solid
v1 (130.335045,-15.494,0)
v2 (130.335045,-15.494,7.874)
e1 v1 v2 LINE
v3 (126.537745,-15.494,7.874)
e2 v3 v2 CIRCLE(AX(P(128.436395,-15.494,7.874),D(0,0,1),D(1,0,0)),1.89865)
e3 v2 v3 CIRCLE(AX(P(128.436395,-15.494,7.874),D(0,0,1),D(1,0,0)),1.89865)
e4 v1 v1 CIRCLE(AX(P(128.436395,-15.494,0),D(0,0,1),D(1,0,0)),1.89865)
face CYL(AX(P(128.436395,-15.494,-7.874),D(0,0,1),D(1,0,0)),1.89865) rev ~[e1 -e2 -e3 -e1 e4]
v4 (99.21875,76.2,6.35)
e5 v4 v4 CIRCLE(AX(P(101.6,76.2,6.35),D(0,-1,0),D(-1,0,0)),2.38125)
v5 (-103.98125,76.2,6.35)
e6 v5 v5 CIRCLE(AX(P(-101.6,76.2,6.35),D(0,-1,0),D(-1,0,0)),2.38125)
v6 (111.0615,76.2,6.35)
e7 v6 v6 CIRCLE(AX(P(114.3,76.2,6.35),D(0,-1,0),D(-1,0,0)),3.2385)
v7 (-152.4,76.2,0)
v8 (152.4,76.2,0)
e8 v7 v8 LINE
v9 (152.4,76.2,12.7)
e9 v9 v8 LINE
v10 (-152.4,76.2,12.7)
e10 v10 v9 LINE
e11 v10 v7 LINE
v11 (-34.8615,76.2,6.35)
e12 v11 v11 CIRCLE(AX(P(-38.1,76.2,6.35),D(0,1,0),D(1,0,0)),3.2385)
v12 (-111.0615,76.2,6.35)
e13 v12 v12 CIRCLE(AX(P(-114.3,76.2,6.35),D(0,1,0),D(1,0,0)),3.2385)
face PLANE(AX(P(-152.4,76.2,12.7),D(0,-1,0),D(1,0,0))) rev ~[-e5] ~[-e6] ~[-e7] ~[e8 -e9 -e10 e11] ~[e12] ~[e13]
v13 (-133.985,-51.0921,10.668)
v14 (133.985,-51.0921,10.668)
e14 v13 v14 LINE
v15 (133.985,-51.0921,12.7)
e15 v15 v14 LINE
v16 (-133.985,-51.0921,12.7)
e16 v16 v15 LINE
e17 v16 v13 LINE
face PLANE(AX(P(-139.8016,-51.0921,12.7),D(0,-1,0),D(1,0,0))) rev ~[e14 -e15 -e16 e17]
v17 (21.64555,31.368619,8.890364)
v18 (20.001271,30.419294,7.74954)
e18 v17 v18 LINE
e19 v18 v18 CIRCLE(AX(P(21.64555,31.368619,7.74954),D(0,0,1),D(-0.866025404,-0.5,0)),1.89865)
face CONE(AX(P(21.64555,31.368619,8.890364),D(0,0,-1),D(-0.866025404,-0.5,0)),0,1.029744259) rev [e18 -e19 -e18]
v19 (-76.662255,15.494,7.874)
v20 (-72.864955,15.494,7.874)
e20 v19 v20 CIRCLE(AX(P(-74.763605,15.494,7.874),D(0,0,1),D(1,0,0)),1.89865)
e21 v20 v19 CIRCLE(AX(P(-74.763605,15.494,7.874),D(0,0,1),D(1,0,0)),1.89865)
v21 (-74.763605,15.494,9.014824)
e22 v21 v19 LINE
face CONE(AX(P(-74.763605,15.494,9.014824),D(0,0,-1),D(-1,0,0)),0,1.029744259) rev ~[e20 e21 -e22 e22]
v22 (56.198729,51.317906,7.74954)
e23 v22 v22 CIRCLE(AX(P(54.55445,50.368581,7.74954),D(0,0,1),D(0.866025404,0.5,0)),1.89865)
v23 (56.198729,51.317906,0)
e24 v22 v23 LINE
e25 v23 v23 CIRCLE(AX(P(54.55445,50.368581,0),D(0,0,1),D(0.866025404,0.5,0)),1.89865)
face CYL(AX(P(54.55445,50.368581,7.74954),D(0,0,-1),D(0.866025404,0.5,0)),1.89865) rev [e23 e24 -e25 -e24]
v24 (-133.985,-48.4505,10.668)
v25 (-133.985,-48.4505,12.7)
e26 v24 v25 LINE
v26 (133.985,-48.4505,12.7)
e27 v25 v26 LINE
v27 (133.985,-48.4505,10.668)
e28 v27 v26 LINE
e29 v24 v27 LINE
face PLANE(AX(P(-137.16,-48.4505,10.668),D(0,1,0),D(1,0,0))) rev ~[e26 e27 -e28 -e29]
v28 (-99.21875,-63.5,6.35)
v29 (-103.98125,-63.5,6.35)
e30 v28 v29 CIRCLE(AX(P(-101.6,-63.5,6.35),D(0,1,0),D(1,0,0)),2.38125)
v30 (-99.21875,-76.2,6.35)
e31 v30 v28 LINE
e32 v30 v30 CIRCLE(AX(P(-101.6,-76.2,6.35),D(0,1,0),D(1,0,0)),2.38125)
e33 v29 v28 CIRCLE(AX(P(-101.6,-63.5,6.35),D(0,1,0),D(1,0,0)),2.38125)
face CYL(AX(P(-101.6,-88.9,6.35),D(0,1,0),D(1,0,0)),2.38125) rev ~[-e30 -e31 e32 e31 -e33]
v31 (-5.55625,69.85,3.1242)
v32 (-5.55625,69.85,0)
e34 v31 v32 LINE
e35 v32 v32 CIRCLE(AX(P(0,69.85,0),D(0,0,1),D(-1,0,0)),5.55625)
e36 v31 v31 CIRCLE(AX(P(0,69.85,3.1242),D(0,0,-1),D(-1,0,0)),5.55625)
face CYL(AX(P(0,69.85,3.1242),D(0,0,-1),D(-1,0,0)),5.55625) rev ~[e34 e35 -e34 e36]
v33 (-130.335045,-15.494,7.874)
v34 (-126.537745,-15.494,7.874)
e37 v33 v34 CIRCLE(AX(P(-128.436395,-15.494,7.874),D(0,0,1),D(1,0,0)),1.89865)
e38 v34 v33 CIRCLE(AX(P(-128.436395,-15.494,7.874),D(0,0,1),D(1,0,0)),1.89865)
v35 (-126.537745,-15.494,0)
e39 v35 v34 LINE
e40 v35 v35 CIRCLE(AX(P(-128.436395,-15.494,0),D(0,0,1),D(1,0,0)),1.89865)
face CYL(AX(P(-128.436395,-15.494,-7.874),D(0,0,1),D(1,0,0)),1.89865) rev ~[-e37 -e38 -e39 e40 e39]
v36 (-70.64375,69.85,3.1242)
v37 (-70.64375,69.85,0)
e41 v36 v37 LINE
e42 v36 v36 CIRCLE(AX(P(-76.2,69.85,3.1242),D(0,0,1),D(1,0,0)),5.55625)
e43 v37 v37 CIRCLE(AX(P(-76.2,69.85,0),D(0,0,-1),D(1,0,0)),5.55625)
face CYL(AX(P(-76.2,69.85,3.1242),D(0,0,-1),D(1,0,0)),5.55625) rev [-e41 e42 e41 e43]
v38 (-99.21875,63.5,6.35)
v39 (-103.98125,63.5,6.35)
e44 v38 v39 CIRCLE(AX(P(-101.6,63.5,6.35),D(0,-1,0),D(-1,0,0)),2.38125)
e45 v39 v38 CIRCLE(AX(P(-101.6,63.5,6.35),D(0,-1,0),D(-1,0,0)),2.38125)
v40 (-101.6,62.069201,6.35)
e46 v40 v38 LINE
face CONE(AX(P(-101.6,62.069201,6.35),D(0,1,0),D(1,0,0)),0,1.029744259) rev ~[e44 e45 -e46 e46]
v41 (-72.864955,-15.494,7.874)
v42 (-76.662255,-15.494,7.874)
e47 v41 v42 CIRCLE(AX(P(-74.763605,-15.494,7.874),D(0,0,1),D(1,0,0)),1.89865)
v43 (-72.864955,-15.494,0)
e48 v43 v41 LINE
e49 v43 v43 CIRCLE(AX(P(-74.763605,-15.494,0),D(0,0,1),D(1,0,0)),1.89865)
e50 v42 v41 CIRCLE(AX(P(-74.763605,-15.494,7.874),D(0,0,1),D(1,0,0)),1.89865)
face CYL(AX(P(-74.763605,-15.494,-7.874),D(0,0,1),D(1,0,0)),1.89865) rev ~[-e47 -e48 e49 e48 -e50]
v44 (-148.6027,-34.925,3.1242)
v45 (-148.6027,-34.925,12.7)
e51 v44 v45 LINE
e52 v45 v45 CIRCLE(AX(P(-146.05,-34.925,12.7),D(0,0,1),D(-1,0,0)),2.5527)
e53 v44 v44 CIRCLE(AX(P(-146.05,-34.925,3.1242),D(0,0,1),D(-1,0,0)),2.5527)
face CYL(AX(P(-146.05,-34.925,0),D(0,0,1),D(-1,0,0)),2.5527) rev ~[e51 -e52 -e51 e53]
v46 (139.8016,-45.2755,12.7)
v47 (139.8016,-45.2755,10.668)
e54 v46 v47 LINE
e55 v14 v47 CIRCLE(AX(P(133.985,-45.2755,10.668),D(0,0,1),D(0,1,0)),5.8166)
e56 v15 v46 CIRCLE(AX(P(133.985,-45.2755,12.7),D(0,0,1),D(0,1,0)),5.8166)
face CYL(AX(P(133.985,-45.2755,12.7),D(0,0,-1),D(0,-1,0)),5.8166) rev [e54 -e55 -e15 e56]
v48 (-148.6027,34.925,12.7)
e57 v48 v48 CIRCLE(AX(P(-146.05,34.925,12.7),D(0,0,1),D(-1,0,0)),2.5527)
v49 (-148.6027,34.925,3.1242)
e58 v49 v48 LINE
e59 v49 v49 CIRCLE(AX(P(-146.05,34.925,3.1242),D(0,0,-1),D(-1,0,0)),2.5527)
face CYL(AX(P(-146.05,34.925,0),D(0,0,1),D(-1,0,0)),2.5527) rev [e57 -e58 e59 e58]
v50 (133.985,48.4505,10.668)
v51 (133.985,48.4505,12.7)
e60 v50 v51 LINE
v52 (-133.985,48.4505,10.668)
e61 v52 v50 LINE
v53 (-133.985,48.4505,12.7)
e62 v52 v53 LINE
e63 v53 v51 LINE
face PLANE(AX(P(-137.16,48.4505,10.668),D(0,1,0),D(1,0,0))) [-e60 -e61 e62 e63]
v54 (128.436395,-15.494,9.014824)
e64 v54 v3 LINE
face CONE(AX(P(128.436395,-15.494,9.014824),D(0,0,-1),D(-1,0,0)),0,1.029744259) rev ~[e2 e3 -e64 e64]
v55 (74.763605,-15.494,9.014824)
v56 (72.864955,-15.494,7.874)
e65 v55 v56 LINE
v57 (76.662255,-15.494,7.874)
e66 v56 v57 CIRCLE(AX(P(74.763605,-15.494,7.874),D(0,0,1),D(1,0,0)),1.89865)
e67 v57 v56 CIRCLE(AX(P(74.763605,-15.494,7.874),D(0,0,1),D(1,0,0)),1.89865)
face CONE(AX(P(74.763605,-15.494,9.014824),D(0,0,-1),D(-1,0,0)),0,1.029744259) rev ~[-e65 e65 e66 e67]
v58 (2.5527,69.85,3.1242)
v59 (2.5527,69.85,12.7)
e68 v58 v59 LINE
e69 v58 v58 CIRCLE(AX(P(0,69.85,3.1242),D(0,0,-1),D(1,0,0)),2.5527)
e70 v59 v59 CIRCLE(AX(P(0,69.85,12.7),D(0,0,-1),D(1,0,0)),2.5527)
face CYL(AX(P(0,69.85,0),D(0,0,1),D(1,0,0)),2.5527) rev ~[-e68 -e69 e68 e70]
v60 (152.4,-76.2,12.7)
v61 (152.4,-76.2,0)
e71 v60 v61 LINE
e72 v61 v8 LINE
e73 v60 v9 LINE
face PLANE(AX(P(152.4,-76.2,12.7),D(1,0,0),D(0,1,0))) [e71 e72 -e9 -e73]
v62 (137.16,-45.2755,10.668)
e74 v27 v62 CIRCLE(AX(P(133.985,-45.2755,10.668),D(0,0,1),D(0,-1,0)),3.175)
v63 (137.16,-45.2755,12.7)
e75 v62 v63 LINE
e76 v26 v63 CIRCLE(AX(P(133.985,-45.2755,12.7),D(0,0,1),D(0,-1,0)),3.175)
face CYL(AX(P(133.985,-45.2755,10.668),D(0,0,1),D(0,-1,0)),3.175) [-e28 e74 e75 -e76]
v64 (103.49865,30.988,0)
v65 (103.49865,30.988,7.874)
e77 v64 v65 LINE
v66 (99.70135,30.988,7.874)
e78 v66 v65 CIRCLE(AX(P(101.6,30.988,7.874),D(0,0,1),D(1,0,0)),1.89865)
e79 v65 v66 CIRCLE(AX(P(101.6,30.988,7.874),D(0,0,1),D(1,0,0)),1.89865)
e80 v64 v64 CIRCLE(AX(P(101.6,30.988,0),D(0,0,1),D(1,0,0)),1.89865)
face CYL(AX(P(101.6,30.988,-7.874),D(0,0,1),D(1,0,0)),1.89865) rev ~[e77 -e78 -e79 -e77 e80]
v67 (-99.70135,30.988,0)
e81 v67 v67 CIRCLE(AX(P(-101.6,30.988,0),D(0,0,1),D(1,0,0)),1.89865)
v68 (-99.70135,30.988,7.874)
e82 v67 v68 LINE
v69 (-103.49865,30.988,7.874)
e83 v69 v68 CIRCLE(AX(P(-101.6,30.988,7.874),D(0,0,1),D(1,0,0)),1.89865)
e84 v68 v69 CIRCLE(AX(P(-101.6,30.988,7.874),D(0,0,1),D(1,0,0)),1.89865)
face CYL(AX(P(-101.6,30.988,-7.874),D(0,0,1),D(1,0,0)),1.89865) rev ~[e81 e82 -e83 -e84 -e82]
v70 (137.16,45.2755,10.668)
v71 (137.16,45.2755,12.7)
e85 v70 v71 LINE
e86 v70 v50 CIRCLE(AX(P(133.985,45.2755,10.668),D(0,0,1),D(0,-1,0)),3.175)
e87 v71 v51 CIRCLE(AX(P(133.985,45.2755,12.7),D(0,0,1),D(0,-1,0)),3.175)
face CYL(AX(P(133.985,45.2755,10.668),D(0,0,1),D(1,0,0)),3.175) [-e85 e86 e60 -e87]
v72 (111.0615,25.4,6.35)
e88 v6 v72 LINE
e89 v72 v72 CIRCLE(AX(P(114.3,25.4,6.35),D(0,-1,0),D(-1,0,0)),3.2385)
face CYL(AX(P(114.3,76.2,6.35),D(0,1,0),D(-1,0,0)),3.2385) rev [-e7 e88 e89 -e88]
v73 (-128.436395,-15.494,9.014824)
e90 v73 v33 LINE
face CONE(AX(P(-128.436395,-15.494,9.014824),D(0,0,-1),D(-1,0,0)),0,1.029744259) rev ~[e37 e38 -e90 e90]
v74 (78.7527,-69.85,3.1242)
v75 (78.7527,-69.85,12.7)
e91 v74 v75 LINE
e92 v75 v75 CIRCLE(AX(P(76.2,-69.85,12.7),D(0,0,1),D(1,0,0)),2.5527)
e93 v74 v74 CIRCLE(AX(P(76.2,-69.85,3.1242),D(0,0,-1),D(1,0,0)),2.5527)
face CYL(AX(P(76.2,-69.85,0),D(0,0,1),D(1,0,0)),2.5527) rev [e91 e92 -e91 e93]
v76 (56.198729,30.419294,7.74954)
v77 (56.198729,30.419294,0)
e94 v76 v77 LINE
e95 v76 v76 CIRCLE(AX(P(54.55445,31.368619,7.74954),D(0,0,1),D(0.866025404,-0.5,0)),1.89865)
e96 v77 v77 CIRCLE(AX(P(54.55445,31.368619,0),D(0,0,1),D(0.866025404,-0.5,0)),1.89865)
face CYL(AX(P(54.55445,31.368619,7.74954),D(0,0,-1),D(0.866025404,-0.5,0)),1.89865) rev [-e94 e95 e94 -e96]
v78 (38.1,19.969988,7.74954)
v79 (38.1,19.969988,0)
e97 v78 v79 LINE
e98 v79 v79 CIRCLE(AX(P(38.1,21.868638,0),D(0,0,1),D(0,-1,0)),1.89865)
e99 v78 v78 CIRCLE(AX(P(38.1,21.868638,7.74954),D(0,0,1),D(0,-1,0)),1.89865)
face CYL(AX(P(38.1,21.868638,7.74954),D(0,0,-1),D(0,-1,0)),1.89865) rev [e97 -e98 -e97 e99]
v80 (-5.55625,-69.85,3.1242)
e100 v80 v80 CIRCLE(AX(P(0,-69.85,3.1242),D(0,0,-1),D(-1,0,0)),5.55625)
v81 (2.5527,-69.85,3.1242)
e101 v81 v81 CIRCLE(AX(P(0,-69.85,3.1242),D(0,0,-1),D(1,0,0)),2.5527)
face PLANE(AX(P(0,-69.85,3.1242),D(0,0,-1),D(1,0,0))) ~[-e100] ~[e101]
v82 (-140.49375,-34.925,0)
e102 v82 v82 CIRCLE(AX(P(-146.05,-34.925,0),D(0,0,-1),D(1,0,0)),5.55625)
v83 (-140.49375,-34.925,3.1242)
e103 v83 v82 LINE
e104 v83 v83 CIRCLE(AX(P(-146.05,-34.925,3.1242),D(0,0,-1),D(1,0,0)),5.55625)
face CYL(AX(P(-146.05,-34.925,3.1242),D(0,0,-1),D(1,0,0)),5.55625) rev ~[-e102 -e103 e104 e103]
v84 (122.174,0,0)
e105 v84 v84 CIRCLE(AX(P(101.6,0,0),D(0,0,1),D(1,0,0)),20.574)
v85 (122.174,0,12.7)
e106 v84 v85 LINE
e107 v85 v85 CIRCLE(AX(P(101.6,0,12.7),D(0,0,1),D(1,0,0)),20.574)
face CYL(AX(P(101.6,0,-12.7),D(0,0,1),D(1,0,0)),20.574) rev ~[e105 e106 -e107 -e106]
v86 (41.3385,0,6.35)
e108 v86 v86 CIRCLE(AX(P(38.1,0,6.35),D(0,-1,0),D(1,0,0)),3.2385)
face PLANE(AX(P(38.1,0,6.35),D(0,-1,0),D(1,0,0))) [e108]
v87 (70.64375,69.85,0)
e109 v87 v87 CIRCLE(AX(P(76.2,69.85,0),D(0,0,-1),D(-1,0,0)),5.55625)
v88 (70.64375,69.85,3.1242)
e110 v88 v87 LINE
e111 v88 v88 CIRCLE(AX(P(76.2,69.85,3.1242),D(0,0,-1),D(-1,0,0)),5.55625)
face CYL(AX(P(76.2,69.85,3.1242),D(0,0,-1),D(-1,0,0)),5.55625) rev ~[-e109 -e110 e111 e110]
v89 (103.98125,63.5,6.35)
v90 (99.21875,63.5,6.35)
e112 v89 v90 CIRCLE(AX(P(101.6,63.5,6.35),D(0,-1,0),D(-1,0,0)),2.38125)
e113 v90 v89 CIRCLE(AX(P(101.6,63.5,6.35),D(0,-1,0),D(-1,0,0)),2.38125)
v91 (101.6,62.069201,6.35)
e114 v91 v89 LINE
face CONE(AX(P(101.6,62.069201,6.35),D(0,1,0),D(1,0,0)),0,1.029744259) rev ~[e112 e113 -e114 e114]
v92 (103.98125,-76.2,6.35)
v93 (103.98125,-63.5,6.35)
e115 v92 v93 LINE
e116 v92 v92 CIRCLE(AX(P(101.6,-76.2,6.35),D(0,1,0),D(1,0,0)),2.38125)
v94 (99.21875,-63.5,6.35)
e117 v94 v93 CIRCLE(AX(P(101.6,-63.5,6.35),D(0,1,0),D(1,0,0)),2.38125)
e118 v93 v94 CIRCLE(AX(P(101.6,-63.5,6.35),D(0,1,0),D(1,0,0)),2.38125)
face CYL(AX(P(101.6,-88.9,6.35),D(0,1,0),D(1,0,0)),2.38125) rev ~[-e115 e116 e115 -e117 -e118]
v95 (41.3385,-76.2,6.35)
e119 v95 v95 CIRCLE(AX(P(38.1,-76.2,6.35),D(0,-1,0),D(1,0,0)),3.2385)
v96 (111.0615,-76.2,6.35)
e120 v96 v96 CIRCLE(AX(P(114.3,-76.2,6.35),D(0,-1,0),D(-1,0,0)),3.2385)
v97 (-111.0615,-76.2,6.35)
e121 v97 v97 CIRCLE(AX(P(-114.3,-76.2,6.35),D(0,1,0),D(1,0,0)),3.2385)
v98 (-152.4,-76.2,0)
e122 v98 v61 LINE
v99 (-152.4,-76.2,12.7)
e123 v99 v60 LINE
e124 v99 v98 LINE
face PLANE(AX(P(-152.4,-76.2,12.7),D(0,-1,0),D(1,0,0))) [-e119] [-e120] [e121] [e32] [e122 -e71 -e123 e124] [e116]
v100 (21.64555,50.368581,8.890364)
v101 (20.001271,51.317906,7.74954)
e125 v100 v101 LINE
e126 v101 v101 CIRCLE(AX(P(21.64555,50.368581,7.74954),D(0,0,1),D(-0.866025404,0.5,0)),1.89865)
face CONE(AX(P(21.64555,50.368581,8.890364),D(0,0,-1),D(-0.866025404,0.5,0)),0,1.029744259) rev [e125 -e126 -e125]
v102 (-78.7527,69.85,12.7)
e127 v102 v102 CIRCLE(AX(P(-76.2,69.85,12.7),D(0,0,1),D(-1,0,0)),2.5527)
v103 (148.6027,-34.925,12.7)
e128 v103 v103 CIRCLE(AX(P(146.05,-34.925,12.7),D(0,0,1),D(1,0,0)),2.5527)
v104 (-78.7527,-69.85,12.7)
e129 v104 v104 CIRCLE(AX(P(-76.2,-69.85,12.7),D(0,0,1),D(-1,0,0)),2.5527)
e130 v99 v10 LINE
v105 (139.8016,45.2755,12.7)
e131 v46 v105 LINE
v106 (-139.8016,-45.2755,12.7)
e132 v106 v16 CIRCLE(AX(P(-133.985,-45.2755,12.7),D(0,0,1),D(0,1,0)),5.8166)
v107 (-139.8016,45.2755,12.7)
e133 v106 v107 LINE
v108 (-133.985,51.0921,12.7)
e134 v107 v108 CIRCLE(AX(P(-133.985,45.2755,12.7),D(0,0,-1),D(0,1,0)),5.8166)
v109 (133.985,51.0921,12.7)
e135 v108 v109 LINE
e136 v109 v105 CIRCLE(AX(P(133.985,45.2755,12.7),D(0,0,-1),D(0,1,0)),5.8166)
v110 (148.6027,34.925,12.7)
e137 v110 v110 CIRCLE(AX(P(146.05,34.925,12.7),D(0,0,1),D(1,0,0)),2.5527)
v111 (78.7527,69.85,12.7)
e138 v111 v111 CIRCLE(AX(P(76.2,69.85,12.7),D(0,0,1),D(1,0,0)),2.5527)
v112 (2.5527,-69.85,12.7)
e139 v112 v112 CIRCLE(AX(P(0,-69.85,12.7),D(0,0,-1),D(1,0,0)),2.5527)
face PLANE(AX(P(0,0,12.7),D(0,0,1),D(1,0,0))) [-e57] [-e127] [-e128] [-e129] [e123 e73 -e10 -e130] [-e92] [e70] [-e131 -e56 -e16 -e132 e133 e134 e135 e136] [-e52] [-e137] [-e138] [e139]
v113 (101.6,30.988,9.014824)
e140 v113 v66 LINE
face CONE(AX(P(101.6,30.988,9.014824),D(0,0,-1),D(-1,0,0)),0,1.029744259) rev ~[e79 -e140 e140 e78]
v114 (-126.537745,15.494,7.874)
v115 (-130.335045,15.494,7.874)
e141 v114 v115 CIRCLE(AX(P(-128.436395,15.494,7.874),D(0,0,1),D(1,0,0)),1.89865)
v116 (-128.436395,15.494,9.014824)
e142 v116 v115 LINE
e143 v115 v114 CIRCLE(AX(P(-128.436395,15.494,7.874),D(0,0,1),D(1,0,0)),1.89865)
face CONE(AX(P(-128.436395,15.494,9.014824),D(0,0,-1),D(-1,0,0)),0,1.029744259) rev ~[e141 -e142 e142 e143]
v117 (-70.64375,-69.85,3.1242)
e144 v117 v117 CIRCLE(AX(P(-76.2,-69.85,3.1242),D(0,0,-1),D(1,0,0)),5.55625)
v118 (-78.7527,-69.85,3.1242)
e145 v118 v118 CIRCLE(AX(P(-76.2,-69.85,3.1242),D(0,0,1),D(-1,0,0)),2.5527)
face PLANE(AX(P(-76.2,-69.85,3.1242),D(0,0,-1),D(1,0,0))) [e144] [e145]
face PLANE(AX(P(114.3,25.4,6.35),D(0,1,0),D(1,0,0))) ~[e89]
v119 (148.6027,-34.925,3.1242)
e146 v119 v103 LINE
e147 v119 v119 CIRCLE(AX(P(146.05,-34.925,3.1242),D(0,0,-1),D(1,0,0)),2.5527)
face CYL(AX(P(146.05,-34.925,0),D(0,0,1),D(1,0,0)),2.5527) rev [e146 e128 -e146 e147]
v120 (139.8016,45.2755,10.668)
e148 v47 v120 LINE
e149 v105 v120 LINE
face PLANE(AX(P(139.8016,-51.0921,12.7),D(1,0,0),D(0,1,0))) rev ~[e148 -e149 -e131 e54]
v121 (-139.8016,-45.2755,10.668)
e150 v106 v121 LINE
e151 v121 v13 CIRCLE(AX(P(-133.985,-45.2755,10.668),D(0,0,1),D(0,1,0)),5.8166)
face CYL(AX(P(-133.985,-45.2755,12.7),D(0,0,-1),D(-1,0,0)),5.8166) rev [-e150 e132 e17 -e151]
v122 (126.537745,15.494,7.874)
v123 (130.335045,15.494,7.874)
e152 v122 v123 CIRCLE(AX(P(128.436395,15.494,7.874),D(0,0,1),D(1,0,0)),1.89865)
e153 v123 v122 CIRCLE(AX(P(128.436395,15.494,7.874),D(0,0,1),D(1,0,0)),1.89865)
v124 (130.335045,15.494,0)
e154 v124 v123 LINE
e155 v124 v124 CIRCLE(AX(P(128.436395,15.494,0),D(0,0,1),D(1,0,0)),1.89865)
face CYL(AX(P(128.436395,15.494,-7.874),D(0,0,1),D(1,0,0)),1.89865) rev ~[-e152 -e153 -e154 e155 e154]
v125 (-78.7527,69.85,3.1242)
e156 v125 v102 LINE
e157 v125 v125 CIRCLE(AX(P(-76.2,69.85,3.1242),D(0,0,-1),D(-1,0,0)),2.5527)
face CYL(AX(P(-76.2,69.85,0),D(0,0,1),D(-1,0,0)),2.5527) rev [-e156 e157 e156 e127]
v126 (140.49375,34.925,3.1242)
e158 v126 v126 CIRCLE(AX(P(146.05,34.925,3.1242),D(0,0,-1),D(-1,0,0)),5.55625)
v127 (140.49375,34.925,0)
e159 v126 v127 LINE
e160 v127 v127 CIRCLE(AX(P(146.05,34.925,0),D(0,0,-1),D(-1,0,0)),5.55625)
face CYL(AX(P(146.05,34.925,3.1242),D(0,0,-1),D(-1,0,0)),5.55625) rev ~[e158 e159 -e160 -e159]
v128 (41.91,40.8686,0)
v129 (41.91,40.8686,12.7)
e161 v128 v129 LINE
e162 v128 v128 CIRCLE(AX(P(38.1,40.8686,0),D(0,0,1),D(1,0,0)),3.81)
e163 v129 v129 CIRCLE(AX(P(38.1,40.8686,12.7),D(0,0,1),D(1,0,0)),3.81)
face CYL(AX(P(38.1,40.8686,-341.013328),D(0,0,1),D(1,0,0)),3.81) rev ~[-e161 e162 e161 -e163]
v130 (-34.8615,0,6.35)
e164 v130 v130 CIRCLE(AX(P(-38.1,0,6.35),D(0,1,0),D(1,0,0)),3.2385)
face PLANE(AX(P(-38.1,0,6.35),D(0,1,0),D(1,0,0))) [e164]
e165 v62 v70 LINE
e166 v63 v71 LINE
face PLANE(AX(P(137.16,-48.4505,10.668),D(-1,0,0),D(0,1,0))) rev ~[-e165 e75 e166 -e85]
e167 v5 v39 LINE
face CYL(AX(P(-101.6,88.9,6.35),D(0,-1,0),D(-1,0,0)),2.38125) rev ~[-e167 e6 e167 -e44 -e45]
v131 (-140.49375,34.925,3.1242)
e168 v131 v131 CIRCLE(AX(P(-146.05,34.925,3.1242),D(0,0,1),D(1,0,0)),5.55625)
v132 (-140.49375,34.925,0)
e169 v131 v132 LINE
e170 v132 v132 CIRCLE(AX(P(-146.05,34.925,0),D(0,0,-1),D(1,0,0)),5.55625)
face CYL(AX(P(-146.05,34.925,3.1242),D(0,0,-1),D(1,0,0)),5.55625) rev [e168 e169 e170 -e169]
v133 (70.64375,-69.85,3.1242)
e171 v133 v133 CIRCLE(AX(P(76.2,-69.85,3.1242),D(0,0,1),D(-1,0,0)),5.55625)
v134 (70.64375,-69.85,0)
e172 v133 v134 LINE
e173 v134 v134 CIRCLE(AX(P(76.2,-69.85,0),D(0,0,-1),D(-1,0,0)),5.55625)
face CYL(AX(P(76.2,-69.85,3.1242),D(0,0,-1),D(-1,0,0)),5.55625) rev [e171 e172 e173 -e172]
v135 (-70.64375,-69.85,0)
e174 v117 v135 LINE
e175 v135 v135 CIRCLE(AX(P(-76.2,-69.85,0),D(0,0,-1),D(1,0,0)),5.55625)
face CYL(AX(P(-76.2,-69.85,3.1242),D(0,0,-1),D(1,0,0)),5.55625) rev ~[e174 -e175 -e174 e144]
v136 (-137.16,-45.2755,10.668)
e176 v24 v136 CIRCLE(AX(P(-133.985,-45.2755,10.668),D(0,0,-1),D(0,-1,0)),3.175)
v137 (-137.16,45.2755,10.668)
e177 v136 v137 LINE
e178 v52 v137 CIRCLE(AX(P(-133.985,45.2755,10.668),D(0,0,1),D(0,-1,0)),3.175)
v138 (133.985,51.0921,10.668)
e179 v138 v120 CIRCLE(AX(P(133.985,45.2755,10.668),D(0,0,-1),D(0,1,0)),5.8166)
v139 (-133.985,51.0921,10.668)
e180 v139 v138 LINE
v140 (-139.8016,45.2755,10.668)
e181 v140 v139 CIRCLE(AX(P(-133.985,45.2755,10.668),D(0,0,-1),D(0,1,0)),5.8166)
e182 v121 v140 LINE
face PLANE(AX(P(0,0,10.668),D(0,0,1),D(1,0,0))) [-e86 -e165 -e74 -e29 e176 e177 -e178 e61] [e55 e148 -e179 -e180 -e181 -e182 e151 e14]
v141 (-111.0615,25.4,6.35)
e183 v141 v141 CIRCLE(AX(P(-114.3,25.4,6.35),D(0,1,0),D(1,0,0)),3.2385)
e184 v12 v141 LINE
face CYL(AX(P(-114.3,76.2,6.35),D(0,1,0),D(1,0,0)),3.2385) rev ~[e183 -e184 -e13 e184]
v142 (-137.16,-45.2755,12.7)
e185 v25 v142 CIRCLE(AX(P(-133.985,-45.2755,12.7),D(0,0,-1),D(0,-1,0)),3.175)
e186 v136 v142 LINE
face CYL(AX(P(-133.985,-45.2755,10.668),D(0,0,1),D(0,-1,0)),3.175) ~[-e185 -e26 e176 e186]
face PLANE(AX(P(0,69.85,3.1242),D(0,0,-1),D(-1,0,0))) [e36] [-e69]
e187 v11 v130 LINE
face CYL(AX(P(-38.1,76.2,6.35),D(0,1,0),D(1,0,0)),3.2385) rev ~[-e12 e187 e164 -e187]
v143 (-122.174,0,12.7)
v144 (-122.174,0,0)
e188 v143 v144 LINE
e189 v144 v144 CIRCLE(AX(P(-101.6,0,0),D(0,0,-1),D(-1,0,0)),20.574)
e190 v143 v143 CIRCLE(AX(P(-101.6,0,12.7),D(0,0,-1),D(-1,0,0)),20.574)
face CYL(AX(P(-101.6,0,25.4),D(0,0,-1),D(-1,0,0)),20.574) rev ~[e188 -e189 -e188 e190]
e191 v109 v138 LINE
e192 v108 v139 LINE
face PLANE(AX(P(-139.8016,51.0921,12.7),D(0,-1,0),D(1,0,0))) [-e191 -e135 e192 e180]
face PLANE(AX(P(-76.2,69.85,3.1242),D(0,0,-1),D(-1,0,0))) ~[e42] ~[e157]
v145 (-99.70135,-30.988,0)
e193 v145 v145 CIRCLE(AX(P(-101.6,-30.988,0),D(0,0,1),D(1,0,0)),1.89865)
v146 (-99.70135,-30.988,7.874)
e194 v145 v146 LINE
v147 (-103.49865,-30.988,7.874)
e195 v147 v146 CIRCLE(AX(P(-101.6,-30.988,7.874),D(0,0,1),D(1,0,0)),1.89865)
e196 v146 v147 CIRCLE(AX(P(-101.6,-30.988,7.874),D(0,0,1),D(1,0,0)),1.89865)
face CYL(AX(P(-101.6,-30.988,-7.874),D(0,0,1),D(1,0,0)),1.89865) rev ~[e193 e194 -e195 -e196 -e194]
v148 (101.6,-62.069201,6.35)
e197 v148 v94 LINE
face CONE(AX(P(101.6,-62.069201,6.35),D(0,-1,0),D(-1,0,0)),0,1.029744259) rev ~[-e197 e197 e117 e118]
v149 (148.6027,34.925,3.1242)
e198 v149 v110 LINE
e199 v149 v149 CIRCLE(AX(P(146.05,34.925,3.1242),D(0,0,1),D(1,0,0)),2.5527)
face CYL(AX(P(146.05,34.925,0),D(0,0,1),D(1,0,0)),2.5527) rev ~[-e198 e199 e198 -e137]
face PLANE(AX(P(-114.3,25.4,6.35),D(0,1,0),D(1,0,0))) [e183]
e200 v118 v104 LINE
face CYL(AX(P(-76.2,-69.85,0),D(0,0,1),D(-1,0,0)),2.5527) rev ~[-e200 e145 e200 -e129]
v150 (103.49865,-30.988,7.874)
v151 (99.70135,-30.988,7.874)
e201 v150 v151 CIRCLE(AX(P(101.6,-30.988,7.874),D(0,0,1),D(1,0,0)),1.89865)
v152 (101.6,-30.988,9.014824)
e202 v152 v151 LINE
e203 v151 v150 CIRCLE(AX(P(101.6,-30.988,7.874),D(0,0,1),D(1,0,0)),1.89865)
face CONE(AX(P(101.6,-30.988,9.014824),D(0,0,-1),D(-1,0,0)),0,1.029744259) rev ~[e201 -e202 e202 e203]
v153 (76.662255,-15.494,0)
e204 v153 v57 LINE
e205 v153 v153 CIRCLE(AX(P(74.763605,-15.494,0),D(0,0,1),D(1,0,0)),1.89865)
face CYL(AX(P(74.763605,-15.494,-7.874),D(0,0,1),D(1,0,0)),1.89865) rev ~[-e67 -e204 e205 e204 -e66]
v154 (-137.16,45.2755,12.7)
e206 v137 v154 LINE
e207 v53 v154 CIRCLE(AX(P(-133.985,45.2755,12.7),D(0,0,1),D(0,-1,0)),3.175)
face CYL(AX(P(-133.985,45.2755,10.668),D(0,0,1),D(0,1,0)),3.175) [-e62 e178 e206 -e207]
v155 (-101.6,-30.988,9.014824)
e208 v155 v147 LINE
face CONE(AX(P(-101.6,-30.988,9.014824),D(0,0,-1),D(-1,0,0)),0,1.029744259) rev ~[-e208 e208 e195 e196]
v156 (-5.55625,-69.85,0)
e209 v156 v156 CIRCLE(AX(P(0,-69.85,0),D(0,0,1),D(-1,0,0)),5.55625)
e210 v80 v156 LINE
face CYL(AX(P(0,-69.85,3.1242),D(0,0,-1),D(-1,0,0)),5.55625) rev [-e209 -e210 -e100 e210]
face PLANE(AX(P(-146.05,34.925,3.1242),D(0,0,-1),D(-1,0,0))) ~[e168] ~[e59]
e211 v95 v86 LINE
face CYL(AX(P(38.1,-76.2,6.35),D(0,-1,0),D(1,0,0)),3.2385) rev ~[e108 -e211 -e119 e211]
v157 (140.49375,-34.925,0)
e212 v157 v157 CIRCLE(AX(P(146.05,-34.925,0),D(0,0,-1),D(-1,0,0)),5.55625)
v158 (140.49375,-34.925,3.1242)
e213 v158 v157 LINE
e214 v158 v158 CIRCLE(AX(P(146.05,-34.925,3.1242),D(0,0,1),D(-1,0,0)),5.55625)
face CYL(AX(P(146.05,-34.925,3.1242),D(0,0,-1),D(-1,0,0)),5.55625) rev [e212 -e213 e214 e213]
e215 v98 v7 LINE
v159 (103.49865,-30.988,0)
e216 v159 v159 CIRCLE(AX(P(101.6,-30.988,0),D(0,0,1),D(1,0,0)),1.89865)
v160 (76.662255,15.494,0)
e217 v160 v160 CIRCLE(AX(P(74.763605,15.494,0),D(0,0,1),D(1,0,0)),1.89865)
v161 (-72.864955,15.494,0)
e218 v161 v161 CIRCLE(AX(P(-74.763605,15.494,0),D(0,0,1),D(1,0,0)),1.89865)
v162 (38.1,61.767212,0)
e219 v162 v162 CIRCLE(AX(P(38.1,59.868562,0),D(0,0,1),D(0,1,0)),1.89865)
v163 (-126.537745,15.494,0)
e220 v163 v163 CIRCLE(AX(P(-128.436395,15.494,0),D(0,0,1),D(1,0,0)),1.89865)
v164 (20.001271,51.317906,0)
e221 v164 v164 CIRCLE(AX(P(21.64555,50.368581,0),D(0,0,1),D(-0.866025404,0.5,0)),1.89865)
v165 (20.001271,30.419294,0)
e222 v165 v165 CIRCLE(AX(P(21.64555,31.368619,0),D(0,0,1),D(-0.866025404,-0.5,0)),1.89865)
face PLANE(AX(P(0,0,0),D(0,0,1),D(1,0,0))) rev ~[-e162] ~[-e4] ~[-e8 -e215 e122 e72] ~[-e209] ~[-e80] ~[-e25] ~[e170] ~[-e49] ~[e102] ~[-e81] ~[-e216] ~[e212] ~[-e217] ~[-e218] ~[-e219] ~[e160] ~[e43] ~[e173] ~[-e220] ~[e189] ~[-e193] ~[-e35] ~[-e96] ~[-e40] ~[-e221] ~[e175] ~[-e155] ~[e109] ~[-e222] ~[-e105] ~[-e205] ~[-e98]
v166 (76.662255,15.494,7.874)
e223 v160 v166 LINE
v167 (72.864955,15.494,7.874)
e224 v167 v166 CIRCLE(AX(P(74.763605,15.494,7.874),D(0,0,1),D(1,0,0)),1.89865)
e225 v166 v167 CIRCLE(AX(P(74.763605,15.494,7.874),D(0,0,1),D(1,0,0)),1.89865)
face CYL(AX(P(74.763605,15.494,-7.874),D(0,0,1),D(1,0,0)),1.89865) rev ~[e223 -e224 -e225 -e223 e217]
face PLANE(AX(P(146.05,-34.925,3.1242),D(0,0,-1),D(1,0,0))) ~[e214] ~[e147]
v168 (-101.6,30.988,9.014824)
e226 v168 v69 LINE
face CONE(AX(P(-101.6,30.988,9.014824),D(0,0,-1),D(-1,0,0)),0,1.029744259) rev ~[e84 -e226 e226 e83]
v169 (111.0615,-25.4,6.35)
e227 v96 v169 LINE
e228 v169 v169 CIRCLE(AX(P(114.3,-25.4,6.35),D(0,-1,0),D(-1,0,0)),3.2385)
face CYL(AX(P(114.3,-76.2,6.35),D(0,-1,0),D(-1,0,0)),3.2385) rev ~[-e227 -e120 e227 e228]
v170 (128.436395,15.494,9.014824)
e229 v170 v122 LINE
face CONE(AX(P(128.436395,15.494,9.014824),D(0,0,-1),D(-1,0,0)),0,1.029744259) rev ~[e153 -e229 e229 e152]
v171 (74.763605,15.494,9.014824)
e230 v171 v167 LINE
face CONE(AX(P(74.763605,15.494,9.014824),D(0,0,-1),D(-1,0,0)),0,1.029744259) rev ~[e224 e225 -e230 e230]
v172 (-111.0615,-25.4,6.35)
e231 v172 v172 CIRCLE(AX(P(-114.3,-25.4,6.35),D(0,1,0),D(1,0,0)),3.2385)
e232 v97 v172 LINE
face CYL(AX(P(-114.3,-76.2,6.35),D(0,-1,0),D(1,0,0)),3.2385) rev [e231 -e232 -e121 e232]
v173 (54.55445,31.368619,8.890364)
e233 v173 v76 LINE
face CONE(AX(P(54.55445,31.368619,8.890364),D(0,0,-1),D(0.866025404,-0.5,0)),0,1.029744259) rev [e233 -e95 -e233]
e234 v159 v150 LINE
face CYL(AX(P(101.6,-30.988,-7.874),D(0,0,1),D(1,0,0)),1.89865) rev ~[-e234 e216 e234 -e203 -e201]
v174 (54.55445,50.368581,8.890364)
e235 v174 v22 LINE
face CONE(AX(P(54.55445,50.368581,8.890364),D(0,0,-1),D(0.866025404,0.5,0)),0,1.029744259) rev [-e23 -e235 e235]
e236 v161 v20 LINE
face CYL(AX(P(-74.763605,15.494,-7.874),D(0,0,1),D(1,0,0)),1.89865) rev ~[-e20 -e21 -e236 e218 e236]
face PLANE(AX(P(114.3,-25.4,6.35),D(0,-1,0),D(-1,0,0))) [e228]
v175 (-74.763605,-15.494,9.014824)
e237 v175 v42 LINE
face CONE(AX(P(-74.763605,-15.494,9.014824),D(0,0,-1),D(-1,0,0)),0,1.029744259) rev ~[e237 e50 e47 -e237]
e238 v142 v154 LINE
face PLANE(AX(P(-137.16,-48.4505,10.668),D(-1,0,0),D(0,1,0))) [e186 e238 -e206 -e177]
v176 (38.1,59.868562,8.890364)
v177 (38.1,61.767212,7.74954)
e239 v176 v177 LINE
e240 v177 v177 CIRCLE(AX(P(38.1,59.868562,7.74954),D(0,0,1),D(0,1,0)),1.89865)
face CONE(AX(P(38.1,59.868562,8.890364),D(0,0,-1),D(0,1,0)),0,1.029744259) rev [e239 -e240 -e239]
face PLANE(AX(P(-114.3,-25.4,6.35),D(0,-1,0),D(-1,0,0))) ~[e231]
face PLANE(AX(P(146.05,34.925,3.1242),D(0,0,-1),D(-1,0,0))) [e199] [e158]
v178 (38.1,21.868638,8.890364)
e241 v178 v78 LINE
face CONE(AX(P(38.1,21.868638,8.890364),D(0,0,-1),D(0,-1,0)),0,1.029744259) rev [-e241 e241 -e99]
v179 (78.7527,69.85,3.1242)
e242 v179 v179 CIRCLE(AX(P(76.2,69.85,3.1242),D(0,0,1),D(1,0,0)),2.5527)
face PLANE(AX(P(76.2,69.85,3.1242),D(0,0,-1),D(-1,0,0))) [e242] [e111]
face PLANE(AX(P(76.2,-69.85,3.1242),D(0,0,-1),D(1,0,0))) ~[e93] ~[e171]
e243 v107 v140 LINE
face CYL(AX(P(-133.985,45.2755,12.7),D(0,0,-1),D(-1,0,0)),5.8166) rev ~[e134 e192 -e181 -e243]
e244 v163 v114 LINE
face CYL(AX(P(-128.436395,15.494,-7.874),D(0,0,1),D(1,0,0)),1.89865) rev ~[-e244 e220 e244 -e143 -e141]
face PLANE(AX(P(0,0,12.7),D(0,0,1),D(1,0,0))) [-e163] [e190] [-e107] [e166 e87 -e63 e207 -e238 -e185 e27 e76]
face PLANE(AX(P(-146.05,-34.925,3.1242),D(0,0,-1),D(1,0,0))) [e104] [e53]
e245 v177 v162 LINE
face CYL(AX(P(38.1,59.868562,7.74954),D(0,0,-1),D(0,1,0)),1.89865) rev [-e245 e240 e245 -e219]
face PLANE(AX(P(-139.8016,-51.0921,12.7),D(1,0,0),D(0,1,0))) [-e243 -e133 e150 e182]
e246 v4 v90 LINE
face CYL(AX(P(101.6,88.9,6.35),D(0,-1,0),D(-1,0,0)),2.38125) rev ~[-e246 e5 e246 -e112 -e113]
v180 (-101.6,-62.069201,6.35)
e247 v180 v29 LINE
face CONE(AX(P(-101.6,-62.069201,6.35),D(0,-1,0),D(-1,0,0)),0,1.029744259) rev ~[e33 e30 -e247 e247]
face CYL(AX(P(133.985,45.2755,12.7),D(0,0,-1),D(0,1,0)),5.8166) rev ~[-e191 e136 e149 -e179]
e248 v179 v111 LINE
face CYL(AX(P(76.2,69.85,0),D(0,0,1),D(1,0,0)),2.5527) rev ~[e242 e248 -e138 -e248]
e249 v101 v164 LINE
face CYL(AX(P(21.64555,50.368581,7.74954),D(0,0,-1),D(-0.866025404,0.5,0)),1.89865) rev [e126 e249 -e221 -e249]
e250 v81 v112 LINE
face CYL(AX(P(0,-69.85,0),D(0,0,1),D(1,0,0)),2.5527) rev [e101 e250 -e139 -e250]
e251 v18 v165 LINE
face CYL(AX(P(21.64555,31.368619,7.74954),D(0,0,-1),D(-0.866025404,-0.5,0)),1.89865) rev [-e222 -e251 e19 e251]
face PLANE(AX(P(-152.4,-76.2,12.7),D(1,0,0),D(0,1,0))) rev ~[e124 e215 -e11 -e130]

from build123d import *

# Parameters (mm, degrees)
SKETCH1_W                                           = 304.8
SKETCH1_H                                           = 152.4
BOSS_EXTRUDE1_DEPTH                                 = 12.7
SKETCH2_W                                           = 279.6032
SKETCH2_H                                           = 102.1842
CUT_EXTRUDE1_DEPTH                                  = 2.032
SKETCH3_W                                           = 274.32
SKETCH3_H                                           = 96.901
BOSS_EXTRUDE2_DEPTH                                 = 2.032
M36_CLEARANCE_HOLE1_D                               = 41.148
M36_CLEARANCE_HOLE1_DEPTH                           = 12.7
M7_CLEARANCE_HOLE1_D                                = 7.62
M36_CLEARANCE_HOLE2_D                               = 41.148
M36_CLEARANCE_HOLE2_DEPTH                           = 12.7
M3_5_CLEARANCE_HOLE2_D                              = 3.7973
M3_5_CLEARANCE_HOLE2_DEPTH                          = 7.874
M3_5_CLEARANCE_HOLE2_TIP                            = 1.140824014
CBORE_FOR_10_BINDING_HEAD_MACHINE_SCREW_D           = 5.1054
CBORE_FOR_10_BINDING_HEAD_MACHINE_SCREW_CBORE_D     = 11.1125
CBORE_FOR_10_BINDING_HEAD_MACHINE_SCREW_CBORE_DEPTH = 3.1242
M4_CLEARANCE_HOLE1_D                                = 4.7625
M4_CLEARANCE_HOLE1_DEPTH                            = 12.7
M4_CLEARANCE_HOLE1_TIP                              = 1.430799349
M4_CLEARANCE_HOLE2_D                                = 4.7625
M4_CLEARANCE_HOLE2_DEPTH                            = 12.7
M4_CLEARANCE_HOLE2_TIP                              = 1.430799349
FILLET1_R                                           = 3.175
FILLET2_R                                           = 5.8166
MIRROR2_COPY_1_D                                    = 5.1054
MIRROR2_COPY_1_CBORE_D                              = 11.1125
MIRROR2_COPY_1_CBORE_DEPTH                          = 3.1242
CIRPATTERN1_COUNT                                   = 6
SKETCH22_R                                          = 3.2385
CUT_EXTRUDE2_DEPTH                                  = 76.2
SKETCH23_R                                          = 3.2385
CUT_EXTRUDE3_DEPTH                                  = 50.8
MIRROR6_COPY_1_SKETCH_R                             = 3.2385
MIRROR6_COPY_1_DEPTH                                = 50.8
SKETCH24_R                                          = 3.2385
CUT_EXTRUDE4_DEPTH                                  = 76.2


with BuildPart() as part:
    # Sketch1 → Boss-Extrude1 (new body)
    with BuildSketch(Plane.XY.offset(12.7)):
        Rectangle(SKETCH1_W, SKETCH1_H)
    extrude(amount=-BOSS_EXTRUDE1_DEPTH)

    # Sketch2 → Cut-Extrude1 (cut)
    with BuildSketch(Plane.XY.offset(12.7)):
        Rectangle(SKETCH2_W, SKETCH2_H)
    extrude(amount=-CUT_EXTRUDE1_DEPTH, mode=Mode.SUBTRACT)

    # Sketch3 → Boss-Extrude2 (add)
    with BuildSketch(Plane.XY.offset(10.668)):
        Rectangle(SKETCH3_W, SKETCH3_H)
    extrude(amount=BOSS_EXTRUDE2_DEPTH)

    # M36 Clearance Hole1
    with Locations(Plane(origin=(0, 0, 0), x_dir=(-1, 0, 0), z_dir=(0, 0, -1))):
        with Locations((-101.6, 0)):
            Hole(M36_CLEARANCE_HOLE1_D / 2, depth=M36_CLEARANCE_HOLE1_DEPTH)

    # M7 Clearance Hole1 (through all)
    with Locations(Plane(origin=(0, 0, 0), x_dir=(-1, 0, 0), z_dir=(0, 0, -1))):
        with Locations((-38.1, 40.8686)):
            Hole(M7_CLEARANCE_HOLE1_D / 2)

    # M36 Clearance Hole2
    with Locations(Plane.XY.offset(12.7)):
        with Locations((-101.6, 0)):
            Hole(M36_CLEARANCE_HOLE2_D / 2, depth=M36_CLEARANCE_HOLE2_DEPTH)

    # M3.5 Clearance Hole2
    with Locations(Plane(origin=(0, 0, 0), x_dir=(-1, 0, 0), z_dir=(0, 0, -1))):
        with Locations((-74.763604788, -15.494), (-101.6, -30.988), (-101.6, 30.988), (-128.436395212, 15.494), (-128.436395212, -15.494), (-74.763604788, 15.494), (101.6, 30.988), (128.436395212, 15.494), (128.436395212, -15.494), (101.6, -30.988), (74.763604788, -15.494), (74.763604788, 15.494)):
            Hole(M3_5_CLEARANCE_HOLE2_D / 2, depth=M3_5_CLEARANCE_HOLE2_DEPTH)
            with Locations((0, 0, -(M3_5_CLEARANCE_HOLE2_DEPTH + M3_5_CLEARANCE_HOLE2_TIP / 2))):  # 118° drill point
                Cone(0, M3_5_CLEARANCE_HOLE2_D / 2, M3_5_CLEARANCE_HOLE2_TIP, mode=Mode.SUBTRACT)

    # CBORE for #10 Binding Head Machine Screw1 (through all)
    with Locations(Plane(origin=(0, 0, 0), x_dir=(-1, 0, 0), z_dir=(0, 0, -1))):
        with Locations((0, 69.85), (-76.2, 69.85), (-146.05, 34.925)):
            cbore_for_10_binding_head_machine_screw = CounterBoreHole(CBORE_FOR_10_BINDING_HEAD_MACHINE_SCREW_D / 2, CBORE_FOR_10_BINDING_HEAD_MACHINE_SCREW_CBORE_D / 2, CBORE_FOR_10_BINDING_HEAD_MACHINE_SCREW_CBORE_DEPTH)

    # M4 Clearance Hole1
    with Locations(Plane(origin=(0, 76.2, 0), x_dir=(1, 0, 0), z_dir=(0, 1, 0))):
        with Locations((101.6, -6.35), (-101.6, -6.35)):
            Hole(M4_CLEARANCE_HOLE1_D / 2, depth=M4_CLEARANCE_HOLE1_DEPTH)
            with Locations((0, 0, -(M4_CLEARANCE_HOLE1_DEPTH + M4_CLEARANCE_HOLE1_TIP / 2))):  # 118° drill point
                Cone(0, M4_CLEARANCE_HOLE1_D / 2, M4_CLEARANCE_HOLE1_TIP, mode=Mode.SUBTRACT)

    # M4 Clearance Hole2
    with Locations(Plane(origin=(0, -76.2, 0), x_dir=(-1, 0, 0), z_dir=(0, -1, 0))):
        with Locations((101.6, -6.35), (-101.6, -6.35)):
            Hole(M4_CLEARANCE_HOLE2_D / 2, depth=M4_CLEARANCE_HOLE2_DEPTH)
            with Locations((0, 0, -(M4_CLEARANCE_HOLE2_DEPTH + M4_CLEARANCE_HOLE2_TIP / 2))):  # 118° drill point
                Cone(0, M4_CLEARANCE_HOLE2_D / 2, M4_CLEARANCE_HOLE2_TIP, mode=Mode.SUBTRACT)

    # Fillet1
    fillet1_edges = [part.edges().sort_by_distance(p)[0] for p in [
        (137.16, 48.4505, 11.684),
        (-137.16, 48.4505, 11.684),
        (-137.16, -48.4505, 11.684),
        (137.16, -48.4505, 11.684),
    ]]
    fillet(fillet1_edges, radius=FILLET1_R)

    # Fillet2
    fillet2_edges = [part.edges().sort_by_distance(p)[0] for p in [
        (-139.8016, -51.0921, 11.684),
        (-139.8016, 51.0921, 11.684),
        (139.8016, 51.0921, 11.684),
        (139.8016, -51.0921, 11.684),
    ]]
    fillet(fillet2_edges, radius=FILLET2_R)

    # Mirror1: CBORE for #10 Binding Head Machine Screw1 across plane
    add(cbore_for_10_binding_head_machine_screw.mirror(Plane(origin=(0, 0, 0), x_dir=(0, 0, 1), z_dir=(1, 0, 0))), mode=Mode.SUBTRACT)

    # Mirror2: CBORE for #10 Binding Head Machine Screw1 across plane
    add(cbore_for_10_binding_head_machine_screw.mirror(Plane.ZX), mode=Mode.SUBTRACT)

    # Mirror2 copy 1 (through all)
    with Locations(Plane(origin=(0, 0, 0), x_dir=(1, 0, 0), z_dir=(0, 0, -1))):
        with Locations((0, 69.85), (-76.2, 69.85), (-146.05, 34.925)):
            CounterBoreHole(MIRROR2_COPY_1_D / 2, MIRROR2_COPY_1_CBORE_D / 2, MIRROR2_COPY_1_CBORE_DEPTH)

    # Sketch20 → #10-24 Tapped Hole1 (revolve, cut)
    with BuildSketch(Plane(origin=(38.1, 59.868562, 0), x_dir=(0, 1, 0), z_dir=(1, 0, 0))):
        Polygon((0, 0), (0, 8.890364014), (1.89865, 7.74954), (1.89865, 0), align=None)
    f_10_24_tapped_hole1 = revolve(axis=Axis((38.1, 59.868562, -6.35), (0, 0, 1)), mode=Mode.SUBTRACT)

    # CirPattern1: #10-24 Tapped Hole1 ×6 about axis
    cirpattern1_axis = Axis((38.1, 40.8686, 0), (0, 0, 1))
    for i in range(1, CIRPATTERN1_COUNT):
        add(f_10_24_tapped_hole1.rotate(cirpattern1_axis, i * 360 / CIRPATTERN1_COUNT), mode=Mode.SUBTRACT)

    # Sketch22 → Cut-Extrude2 (cut)
    with BuildSketch(Plane(origin=(0, 76.2, 0), x_dir=(1, 0, 0), z_dir=(0, 1, 0))):
        with Locations((-38.1, -6.35)):
            Circle(SKETCH22_R)
    extrude(amount=-CUT_EXTRUDE2_DEPTH, mode=Mode.SUBTRACT)

    # Sketch23 → Cut-Extrude3 (cut)
    with BuildSketch(Plane(origin=(0, 76.2, 0), x_dir=(1, 0, 0), z_dir=(0, 1, 0))):
        with Locations((-114.3, -6.35)):
            Circle(SKETCH23_R)
    cut_extrude3 = extrude(amount=-CUT_EXTRUDE3_DEPTH, mode=Mode.SUBTRACT)

    # Mirror5: Cut-Extrude3 across plane
    add(cut_extrude3.mirror(Plane.ZX), mode=Mode.SUBTRACT)

    # Mirror6: Cut-Extrude3 across plane
    add(cut_extrude3.mirror(Plane(origin=(0, 0, 0), x_dir=(0, 0, 1), z_dir=(1, 0, 0))), mode=Mode.SUBTRACT)

    # Mirror6 copy 1 sketch → Mirror6 copy 1 (cut)
    with BuildSketch(Plane(origin=(0, -76.2, 0), x_dir=(-1, 0, 0), z_dir=(0, -1, 0))):
        with Locations((-114.3, -6.35)):
            Circle(MIRROR6_COPY_1_SKETCH_R)
    extrude(amount=-MIRROR6_COPY_1_DEPTH, mode=Mode.SUBTRACT)

    # Sketch24 → Cut-Extrude4 (cut)
    with BuildSketch(Plane.XZ.offset(76.2)):
        with Locations((38.1, 6.35)):
            Circle(SKETCH24_R)
    extrude(amount=-CUT_EXTRUDE4_DEPTH, mode=Mode.SUBTRACT)


solid = part.part
